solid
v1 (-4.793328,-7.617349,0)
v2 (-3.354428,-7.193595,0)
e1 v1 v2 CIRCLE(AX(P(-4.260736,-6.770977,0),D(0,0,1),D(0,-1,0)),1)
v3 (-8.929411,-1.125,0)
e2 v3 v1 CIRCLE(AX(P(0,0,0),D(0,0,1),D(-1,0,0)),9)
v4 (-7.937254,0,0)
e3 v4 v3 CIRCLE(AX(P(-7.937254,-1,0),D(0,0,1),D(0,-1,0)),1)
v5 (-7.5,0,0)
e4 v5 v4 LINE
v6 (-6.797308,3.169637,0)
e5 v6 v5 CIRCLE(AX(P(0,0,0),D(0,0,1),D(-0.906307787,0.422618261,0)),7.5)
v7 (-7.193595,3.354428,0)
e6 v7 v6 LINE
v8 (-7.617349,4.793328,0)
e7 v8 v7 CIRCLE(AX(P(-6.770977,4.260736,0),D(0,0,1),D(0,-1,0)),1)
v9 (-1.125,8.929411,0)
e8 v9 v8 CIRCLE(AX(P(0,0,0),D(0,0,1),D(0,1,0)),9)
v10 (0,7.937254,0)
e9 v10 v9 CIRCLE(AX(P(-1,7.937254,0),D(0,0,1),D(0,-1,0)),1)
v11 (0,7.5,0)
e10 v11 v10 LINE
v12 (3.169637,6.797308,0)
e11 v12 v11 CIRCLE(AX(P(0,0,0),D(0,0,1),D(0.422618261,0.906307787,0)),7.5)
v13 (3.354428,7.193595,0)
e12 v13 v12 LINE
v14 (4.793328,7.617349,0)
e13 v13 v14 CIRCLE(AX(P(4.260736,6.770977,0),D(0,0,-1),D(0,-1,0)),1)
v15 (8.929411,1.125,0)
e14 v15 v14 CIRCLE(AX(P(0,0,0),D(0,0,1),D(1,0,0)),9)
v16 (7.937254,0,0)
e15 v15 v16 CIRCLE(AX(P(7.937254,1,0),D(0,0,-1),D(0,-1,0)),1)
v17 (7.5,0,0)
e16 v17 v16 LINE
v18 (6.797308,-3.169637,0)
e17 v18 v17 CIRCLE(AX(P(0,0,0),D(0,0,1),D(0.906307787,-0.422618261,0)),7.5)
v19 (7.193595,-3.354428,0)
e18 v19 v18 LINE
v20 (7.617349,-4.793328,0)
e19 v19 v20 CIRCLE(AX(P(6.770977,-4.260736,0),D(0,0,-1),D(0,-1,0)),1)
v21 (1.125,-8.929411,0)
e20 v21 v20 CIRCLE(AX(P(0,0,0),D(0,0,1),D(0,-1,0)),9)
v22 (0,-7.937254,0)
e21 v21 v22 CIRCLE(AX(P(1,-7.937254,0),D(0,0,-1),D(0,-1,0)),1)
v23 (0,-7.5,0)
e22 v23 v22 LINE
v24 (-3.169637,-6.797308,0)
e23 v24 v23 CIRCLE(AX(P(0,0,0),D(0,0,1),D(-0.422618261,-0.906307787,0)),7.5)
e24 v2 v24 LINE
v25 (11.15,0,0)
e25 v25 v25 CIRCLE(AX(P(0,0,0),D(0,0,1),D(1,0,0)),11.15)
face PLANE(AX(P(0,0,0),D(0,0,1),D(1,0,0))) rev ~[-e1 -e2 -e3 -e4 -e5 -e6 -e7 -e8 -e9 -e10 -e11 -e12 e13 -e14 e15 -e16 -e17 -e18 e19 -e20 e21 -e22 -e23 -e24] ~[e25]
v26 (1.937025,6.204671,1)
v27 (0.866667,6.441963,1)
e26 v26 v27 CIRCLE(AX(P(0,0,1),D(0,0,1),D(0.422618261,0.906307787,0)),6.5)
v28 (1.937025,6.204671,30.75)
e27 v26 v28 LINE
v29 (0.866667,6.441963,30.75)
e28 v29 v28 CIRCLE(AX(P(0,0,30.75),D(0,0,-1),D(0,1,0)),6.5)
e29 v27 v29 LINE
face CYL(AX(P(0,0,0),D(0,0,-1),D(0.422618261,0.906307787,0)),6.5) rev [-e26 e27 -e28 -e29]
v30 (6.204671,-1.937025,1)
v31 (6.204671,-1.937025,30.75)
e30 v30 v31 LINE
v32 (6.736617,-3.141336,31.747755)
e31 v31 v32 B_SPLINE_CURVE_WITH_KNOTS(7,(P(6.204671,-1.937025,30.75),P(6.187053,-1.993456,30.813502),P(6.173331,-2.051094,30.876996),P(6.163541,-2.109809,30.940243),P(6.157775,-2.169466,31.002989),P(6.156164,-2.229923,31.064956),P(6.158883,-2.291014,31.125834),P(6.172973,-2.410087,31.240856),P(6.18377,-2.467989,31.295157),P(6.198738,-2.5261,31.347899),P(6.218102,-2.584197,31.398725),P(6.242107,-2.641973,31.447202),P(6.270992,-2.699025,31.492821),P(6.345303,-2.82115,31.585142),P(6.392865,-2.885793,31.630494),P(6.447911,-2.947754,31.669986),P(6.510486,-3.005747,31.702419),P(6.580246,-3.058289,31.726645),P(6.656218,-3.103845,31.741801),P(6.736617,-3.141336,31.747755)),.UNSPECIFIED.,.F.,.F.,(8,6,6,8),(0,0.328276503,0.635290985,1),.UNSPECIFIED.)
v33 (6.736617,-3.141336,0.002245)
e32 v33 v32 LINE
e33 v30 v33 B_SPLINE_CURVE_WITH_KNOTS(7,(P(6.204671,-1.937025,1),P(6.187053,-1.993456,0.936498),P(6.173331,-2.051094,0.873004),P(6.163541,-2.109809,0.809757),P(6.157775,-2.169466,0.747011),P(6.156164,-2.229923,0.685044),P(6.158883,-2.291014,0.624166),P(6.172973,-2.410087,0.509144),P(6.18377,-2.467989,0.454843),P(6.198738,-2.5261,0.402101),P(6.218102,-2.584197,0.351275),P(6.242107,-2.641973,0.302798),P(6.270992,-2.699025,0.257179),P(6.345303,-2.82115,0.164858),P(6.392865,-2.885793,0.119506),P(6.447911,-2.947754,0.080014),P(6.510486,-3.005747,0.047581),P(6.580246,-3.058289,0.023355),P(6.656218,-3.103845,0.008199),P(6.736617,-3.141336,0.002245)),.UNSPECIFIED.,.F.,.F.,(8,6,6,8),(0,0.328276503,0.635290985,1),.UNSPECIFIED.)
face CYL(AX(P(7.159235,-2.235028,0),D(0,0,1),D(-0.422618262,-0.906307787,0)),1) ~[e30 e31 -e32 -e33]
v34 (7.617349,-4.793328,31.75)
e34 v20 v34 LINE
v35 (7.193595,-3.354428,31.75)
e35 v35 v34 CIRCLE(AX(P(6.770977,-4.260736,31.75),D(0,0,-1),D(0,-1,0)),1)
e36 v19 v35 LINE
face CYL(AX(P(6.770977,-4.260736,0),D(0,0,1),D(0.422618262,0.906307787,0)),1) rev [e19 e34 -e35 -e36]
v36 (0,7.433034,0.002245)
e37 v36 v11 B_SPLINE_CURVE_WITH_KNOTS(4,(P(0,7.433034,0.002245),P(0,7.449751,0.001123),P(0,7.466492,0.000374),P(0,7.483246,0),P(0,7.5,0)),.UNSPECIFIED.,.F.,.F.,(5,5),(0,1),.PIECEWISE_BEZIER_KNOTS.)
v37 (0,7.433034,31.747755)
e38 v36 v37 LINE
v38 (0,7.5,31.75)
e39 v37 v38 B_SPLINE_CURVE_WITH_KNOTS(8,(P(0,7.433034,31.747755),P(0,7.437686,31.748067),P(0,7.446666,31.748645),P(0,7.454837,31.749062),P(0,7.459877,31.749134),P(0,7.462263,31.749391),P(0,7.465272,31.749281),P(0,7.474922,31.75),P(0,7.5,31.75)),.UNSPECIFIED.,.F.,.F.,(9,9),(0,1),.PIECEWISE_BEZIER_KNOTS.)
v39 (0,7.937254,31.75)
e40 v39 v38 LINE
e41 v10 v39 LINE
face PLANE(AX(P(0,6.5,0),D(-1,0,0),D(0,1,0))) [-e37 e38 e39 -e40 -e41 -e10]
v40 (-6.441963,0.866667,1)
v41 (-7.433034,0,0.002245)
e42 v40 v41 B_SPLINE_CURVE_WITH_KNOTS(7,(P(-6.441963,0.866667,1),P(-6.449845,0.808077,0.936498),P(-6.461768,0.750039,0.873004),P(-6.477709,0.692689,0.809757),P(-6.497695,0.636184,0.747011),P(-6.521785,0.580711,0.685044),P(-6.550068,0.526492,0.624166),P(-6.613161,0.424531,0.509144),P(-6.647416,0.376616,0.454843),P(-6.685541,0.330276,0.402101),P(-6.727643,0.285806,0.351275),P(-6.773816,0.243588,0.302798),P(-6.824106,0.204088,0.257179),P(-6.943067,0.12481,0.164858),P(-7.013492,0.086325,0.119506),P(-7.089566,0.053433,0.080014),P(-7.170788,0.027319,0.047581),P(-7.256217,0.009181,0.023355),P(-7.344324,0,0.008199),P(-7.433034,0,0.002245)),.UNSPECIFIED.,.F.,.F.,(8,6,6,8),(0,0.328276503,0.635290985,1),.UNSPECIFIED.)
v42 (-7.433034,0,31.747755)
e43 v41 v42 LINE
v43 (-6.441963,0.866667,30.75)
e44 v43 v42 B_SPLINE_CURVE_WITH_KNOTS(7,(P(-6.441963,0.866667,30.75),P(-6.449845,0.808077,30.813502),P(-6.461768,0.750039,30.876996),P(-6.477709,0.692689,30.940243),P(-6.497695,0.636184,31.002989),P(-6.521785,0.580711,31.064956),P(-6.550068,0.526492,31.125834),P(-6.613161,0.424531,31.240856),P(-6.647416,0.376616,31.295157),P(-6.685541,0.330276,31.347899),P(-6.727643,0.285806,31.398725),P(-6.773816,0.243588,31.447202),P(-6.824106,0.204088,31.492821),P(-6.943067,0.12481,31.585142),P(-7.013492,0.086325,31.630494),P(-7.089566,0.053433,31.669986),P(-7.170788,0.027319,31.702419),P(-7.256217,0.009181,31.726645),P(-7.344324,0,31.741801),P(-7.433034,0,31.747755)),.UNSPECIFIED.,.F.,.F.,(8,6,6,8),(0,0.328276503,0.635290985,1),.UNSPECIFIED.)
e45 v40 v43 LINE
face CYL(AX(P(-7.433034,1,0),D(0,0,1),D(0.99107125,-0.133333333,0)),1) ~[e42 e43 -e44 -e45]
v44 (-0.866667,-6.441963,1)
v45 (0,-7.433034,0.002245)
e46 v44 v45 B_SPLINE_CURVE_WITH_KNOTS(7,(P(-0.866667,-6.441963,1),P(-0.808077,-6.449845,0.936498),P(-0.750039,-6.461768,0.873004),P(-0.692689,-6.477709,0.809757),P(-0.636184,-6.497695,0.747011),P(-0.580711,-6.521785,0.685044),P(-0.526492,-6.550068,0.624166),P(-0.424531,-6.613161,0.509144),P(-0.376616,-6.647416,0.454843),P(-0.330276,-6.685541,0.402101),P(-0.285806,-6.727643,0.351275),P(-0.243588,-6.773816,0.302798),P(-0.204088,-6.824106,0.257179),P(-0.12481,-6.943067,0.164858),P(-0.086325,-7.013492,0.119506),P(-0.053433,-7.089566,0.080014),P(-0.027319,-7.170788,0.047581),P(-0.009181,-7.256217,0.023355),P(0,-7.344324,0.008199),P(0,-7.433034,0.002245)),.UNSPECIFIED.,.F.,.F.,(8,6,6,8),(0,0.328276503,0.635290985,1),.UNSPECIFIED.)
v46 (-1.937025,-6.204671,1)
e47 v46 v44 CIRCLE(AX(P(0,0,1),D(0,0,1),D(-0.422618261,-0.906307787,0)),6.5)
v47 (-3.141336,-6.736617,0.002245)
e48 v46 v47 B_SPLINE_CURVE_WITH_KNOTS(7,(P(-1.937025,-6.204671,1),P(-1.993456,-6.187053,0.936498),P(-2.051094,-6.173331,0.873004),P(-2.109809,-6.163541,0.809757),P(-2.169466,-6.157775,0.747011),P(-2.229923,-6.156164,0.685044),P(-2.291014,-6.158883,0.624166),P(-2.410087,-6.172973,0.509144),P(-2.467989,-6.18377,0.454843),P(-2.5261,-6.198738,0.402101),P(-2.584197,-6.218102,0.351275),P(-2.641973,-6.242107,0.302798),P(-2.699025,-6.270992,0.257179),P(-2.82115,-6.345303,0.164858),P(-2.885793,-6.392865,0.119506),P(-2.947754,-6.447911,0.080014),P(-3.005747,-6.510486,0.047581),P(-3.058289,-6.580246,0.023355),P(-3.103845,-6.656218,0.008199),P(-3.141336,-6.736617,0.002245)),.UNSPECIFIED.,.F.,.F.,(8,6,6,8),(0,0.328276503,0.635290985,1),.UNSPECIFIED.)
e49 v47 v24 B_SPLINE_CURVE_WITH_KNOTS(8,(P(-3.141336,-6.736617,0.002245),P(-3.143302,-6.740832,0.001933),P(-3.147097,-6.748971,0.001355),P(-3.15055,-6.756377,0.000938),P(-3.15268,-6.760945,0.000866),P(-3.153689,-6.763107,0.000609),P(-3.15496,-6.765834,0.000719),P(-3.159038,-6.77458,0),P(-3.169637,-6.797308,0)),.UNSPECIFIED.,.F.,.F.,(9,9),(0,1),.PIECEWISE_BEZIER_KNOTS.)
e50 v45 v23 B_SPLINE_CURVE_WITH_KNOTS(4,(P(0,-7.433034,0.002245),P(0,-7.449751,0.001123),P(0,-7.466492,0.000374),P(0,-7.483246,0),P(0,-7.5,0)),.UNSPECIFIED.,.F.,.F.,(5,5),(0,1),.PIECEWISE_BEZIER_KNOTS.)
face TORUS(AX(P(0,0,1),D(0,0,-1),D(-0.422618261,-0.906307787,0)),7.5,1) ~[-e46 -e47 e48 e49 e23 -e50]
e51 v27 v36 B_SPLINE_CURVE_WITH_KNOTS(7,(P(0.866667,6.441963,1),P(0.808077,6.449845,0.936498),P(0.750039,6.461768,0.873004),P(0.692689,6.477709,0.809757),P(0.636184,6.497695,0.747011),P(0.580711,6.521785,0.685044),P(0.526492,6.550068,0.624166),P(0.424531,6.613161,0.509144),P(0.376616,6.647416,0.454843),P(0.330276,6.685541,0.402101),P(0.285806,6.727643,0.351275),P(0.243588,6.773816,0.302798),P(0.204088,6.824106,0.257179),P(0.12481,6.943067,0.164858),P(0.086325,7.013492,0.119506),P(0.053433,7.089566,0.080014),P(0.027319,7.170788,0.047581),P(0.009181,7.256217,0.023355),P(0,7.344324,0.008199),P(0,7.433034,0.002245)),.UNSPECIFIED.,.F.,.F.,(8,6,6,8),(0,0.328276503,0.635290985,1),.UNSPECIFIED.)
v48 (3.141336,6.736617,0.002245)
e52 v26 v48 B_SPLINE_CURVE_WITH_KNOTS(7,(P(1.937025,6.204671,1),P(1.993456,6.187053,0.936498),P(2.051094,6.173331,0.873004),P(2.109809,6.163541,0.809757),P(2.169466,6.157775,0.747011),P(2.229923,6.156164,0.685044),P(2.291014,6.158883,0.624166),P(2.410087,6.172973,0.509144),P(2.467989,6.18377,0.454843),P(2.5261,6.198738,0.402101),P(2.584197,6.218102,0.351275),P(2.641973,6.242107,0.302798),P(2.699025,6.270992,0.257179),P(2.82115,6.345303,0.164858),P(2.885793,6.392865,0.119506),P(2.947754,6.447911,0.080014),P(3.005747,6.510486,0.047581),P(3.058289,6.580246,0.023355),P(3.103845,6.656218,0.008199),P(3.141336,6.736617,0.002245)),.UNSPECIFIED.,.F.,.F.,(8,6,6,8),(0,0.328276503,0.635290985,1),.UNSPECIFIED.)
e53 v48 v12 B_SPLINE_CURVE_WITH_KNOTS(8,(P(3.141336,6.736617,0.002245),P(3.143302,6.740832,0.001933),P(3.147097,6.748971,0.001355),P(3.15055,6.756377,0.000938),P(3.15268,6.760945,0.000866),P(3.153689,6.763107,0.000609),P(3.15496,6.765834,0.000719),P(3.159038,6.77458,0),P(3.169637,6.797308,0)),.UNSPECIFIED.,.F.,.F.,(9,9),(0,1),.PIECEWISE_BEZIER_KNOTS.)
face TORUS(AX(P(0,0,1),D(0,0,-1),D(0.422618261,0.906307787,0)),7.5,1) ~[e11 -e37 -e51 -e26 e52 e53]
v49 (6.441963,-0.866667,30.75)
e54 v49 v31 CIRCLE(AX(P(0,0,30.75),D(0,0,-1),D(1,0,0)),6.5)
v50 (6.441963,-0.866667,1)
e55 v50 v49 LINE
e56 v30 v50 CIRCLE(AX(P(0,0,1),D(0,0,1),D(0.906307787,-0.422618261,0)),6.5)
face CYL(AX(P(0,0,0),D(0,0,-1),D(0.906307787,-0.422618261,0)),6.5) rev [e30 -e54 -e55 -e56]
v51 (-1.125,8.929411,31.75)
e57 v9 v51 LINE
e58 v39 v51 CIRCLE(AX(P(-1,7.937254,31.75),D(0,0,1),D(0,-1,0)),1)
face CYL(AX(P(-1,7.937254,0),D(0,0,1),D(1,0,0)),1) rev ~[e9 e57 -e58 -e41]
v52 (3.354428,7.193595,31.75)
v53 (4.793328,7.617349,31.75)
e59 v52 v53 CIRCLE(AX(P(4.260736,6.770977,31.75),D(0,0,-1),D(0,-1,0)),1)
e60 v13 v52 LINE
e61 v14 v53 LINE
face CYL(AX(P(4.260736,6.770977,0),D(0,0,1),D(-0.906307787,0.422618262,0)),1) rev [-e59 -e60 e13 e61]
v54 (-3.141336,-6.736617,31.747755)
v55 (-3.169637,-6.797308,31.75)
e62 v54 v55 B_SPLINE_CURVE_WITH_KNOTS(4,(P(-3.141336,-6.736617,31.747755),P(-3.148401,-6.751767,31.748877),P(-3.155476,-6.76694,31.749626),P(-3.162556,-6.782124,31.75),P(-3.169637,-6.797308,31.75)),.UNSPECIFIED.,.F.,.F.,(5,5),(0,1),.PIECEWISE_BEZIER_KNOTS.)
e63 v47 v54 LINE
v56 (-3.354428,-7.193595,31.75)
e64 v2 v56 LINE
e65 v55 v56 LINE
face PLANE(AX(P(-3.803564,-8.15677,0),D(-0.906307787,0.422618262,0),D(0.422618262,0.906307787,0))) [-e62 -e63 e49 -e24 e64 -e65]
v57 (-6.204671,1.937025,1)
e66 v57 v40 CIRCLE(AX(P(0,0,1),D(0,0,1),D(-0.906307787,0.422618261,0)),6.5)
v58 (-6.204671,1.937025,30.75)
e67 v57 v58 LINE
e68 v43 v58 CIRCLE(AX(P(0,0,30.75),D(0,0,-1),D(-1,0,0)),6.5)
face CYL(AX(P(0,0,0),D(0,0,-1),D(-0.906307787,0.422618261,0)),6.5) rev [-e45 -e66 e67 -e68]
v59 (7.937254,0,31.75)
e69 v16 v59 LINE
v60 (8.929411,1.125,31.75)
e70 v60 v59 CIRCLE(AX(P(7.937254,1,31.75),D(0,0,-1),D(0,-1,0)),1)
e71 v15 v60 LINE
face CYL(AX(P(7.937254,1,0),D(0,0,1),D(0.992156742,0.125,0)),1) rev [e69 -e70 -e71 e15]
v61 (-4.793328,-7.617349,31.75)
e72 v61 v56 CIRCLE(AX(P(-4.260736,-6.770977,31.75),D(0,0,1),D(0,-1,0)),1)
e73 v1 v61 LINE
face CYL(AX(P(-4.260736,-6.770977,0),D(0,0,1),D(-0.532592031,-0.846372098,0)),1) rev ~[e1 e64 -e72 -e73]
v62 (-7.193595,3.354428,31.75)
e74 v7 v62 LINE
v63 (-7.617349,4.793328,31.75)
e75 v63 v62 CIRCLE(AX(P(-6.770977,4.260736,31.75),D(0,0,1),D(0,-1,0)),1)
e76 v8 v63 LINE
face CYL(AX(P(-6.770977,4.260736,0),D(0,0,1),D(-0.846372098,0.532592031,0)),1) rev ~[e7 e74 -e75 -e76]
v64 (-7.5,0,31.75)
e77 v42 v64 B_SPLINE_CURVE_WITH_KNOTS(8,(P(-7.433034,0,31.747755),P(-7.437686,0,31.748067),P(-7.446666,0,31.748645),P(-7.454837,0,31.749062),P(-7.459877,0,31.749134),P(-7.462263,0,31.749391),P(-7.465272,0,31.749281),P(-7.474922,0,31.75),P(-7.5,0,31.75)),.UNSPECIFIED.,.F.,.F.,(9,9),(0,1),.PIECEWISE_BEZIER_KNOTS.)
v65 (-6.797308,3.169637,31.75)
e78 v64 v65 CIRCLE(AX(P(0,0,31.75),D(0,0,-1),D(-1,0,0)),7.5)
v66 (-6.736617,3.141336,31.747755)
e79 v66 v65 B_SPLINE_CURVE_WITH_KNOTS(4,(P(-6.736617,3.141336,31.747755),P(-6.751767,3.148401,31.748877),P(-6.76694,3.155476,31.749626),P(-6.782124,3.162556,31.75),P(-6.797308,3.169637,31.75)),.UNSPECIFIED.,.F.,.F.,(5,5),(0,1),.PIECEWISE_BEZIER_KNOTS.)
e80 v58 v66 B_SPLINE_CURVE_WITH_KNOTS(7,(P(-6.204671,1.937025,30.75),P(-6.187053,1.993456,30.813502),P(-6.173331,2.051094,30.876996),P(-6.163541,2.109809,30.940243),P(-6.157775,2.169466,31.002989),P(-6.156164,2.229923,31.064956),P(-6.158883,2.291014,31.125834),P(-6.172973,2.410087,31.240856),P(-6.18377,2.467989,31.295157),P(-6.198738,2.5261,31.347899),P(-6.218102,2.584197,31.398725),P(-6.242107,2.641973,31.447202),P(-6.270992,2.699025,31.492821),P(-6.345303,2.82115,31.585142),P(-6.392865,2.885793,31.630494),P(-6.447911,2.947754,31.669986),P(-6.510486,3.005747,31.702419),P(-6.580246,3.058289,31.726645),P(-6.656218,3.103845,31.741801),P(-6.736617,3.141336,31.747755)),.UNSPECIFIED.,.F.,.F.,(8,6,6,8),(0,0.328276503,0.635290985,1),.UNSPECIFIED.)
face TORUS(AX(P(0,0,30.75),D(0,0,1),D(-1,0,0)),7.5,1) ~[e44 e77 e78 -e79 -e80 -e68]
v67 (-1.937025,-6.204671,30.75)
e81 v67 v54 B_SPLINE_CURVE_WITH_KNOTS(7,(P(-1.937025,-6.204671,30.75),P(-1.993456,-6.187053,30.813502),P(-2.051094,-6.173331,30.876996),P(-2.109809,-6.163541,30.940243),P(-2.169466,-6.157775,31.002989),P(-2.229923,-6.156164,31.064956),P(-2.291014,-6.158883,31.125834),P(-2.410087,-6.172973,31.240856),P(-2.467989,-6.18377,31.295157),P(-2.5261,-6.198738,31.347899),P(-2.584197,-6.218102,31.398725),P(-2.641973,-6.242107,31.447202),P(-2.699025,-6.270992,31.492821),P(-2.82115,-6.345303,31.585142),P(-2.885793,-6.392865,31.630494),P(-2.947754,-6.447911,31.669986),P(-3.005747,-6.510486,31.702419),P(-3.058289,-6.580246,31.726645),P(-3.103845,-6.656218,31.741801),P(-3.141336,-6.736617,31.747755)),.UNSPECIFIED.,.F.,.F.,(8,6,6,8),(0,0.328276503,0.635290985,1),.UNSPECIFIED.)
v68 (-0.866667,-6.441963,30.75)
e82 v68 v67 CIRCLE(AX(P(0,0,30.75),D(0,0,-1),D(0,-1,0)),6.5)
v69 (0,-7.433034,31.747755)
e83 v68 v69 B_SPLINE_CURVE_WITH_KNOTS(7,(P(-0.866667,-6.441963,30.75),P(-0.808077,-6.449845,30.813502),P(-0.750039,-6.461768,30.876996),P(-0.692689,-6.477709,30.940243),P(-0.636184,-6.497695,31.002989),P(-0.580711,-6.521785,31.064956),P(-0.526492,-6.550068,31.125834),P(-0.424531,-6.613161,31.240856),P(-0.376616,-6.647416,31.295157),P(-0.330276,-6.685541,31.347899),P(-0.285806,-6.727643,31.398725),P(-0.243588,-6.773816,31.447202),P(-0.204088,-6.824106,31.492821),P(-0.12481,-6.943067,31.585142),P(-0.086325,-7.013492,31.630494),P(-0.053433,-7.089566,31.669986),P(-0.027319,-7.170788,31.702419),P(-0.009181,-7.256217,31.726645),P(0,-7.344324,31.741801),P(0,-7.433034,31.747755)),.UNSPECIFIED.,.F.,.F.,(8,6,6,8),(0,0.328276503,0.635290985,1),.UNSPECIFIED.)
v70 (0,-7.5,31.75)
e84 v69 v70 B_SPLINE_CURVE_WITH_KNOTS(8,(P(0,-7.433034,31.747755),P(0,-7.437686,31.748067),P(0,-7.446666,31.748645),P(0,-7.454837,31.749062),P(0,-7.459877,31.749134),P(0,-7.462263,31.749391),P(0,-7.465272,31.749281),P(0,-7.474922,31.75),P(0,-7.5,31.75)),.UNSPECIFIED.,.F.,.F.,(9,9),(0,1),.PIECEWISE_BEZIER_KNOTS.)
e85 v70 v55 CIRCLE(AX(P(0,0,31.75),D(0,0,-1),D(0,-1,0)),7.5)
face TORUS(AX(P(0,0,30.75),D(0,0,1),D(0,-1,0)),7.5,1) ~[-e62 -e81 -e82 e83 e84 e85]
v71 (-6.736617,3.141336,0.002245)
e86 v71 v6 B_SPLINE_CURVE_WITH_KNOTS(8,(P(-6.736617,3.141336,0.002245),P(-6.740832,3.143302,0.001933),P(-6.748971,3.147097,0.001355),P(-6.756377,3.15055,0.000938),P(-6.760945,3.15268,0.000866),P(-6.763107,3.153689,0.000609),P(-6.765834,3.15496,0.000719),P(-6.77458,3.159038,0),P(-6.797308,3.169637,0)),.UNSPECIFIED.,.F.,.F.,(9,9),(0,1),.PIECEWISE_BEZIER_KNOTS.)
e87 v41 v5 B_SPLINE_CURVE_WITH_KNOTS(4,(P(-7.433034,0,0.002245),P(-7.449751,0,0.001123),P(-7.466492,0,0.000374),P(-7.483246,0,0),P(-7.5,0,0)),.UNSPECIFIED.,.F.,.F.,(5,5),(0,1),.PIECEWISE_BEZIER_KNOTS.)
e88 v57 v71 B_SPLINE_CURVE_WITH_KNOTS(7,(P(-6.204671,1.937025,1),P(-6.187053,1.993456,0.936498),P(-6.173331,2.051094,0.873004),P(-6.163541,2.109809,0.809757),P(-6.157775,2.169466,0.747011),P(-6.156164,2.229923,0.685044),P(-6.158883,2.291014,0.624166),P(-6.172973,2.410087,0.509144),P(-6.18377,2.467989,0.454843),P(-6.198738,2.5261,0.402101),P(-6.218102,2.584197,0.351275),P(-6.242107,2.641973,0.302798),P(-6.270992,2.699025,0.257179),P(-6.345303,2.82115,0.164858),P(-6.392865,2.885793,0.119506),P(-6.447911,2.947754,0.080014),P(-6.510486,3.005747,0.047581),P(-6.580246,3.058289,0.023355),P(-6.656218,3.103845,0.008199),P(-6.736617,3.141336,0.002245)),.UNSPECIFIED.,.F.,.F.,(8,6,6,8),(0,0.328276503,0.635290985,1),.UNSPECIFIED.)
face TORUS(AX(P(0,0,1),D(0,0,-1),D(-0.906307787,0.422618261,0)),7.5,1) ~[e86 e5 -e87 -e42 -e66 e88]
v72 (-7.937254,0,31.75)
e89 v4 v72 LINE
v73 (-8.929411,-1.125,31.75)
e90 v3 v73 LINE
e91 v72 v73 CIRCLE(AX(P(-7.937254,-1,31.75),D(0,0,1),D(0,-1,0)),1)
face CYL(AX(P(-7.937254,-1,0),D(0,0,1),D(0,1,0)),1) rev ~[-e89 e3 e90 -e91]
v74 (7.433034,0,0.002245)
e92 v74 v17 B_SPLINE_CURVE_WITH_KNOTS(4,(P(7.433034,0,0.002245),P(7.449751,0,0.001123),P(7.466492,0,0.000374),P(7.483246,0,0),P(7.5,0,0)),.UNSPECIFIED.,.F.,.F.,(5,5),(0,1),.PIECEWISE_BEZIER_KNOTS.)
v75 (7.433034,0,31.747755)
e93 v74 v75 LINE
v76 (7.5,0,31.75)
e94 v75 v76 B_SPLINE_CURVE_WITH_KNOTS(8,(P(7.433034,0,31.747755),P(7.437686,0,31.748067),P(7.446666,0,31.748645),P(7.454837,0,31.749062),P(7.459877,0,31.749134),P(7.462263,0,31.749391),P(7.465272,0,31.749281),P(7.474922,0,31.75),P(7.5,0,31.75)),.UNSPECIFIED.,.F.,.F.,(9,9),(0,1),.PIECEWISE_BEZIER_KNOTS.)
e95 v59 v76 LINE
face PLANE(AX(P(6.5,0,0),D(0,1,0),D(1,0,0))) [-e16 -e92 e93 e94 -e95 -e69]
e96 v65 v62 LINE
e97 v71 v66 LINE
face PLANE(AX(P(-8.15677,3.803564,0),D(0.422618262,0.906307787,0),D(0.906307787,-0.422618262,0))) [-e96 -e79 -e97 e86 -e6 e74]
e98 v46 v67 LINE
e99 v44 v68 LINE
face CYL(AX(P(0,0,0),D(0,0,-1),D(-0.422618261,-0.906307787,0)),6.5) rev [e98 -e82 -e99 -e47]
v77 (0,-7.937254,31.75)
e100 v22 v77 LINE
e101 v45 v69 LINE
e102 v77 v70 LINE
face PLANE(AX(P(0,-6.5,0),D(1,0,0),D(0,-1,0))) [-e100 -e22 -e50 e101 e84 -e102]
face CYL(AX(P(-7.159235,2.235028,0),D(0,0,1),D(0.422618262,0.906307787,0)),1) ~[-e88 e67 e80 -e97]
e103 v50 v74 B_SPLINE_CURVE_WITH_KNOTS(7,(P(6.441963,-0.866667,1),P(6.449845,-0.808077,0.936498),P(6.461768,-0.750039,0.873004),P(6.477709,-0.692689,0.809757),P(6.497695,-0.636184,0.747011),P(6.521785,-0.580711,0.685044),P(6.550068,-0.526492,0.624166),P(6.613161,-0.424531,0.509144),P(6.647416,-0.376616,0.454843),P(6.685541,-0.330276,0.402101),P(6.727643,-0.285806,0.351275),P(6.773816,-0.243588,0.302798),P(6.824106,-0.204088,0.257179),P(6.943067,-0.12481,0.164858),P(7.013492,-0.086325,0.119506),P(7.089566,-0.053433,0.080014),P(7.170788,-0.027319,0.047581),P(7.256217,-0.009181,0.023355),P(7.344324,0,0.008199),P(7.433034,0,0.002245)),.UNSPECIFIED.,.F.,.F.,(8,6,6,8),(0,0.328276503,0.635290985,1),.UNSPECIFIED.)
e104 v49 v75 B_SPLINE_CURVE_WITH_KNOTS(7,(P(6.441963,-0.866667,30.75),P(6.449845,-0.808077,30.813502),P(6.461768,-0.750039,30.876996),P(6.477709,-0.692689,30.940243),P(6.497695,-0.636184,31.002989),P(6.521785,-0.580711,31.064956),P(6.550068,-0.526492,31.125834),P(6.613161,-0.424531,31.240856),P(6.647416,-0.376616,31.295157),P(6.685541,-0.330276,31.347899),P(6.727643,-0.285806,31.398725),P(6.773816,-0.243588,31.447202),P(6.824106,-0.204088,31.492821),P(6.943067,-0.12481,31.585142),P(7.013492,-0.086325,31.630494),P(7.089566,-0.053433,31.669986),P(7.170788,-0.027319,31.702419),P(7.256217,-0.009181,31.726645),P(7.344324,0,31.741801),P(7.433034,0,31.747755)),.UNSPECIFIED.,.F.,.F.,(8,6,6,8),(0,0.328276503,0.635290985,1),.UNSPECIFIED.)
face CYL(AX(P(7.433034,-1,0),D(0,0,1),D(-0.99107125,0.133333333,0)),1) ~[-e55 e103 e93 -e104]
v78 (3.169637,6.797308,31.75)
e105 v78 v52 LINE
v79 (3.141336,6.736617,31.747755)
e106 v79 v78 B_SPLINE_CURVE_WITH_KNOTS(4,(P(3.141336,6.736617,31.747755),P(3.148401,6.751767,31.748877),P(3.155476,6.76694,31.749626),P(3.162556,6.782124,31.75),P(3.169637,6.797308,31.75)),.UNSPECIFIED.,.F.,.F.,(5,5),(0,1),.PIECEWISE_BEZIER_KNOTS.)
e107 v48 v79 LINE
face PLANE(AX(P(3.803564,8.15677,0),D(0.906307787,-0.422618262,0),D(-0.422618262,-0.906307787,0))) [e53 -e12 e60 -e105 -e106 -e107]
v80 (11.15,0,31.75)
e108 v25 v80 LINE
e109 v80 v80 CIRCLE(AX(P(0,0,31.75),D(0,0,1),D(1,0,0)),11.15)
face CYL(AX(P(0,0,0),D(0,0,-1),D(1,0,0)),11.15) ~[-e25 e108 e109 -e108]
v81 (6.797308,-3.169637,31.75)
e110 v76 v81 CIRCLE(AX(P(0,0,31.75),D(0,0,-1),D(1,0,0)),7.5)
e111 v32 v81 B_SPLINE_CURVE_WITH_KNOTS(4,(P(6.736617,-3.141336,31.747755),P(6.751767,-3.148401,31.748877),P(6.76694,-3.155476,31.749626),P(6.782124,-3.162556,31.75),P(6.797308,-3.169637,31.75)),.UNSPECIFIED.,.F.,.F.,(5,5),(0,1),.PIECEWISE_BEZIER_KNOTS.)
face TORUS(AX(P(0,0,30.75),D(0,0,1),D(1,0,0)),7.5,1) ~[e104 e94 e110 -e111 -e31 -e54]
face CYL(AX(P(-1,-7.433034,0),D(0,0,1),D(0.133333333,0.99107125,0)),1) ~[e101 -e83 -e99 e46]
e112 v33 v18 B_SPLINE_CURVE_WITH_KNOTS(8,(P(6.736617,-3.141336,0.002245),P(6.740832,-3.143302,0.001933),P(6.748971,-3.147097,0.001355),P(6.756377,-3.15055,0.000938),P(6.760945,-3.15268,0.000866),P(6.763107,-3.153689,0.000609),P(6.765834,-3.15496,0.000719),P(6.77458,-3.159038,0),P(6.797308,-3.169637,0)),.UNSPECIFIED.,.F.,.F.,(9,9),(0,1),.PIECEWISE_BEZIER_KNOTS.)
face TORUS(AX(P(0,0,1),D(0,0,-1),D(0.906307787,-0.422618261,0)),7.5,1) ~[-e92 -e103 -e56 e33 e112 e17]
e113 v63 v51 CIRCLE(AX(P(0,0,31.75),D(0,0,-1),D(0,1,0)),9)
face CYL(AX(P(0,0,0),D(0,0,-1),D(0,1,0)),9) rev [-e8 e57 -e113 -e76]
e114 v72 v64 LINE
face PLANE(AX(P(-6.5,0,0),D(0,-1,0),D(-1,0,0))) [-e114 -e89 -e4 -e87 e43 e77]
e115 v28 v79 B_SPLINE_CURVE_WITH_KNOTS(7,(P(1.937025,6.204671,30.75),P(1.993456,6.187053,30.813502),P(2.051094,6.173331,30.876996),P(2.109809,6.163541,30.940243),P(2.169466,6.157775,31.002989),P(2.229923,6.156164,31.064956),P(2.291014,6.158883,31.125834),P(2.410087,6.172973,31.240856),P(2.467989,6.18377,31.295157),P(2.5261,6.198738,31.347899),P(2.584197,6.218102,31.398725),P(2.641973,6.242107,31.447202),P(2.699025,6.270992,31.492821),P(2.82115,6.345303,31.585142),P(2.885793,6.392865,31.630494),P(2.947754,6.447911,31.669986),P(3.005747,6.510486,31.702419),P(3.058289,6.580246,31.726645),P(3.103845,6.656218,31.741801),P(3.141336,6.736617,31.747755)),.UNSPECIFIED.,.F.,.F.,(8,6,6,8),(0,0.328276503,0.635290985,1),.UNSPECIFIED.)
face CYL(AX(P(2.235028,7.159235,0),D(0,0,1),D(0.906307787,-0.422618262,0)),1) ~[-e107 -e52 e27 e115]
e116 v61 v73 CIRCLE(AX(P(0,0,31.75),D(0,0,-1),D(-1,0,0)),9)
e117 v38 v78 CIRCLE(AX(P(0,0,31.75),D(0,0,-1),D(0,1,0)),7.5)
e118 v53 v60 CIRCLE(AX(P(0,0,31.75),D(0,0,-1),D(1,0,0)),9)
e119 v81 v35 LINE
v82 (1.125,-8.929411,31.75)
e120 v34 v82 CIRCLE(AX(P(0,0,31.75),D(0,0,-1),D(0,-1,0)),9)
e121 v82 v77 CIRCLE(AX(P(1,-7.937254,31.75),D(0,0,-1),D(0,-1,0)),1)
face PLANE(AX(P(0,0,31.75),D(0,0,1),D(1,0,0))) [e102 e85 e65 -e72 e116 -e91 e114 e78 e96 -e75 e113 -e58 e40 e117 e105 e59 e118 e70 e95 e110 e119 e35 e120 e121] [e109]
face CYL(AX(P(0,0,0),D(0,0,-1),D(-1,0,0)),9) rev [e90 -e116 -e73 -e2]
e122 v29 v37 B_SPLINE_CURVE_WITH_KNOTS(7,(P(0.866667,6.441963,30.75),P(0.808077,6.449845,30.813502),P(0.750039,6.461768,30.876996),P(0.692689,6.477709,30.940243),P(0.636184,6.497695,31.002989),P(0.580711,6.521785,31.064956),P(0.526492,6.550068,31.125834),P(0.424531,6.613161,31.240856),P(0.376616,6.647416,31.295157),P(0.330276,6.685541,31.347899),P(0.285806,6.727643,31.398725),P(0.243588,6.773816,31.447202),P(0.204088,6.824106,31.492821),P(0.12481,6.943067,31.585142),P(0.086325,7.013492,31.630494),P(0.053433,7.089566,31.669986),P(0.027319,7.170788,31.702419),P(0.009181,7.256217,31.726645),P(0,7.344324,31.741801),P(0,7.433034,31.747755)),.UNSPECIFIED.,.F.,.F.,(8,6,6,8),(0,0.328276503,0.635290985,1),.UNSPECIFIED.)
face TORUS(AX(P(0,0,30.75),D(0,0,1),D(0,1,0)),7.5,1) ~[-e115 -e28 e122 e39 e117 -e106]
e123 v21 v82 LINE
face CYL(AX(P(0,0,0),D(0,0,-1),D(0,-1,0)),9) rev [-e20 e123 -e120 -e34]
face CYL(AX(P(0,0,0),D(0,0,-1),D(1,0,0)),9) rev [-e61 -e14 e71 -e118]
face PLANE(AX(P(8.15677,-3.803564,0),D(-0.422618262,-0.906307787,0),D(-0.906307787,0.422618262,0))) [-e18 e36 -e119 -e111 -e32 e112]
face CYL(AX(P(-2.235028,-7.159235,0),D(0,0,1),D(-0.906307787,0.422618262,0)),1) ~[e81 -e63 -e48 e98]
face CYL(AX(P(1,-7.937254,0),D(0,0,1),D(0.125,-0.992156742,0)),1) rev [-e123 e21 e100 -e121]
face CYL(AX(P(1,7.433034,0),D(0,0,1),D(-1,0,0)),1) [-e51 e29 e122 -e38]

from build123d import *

# Parameters (mm, degrees)
SKETCH1_R           = 11.15
BOSS_EXTRUDE1_DEPTH = 31.75
CUT_EXTRUDE4_DEPTH  = 36.450070522
FILLET2_R           = 1
FILLET4_R           = 1


with BuildPart() as part:
    # Sketch1 → Boss-Extrude1 (new body)
    with BuildSketch(Plane.XY):
        Circle(SKETCH1_R)
    extrude(amount=BOSS_EXTRUDE1_DEPTH)

    # Sketch2 → Cut-Extrude4 (cut, through all)
    with BuildSketch(Plane.XY):
        with BuildLine():
            Line((0, 6.5), (0, 9))
            ThreePointArc((0, 9), (-4.835696475, 7.590523012), (-8.156770083, 3.803564356))
            Line((-8.156770083, 3.803564356), (-5.891000616, 2.747018701))
            ThreePointArc((-5.891000616, 2.747018701), (-6.345924046, 1.406857491), (-6.5, 0))
            Line((-6.5, 0), (-9, 0))
            ThreePointArc((-9, 0), (-7.590523012, -4.835696475), (-3.803564356, -8.156770083))
            Line((-3.803564356, -8.156770083), (-2.747018701, -5.891000616))
            ThreePointArc((-2.747018701, -5.891000616), (-1.406857491, -6.345924046), (0, -6.5))
            Line((0, -6.5), (0, -9))
            ThreePointArc((0, -9), (4.835696475, -7.590523012), (8.156770083, -3.803564356))
            Line((8.156770083, -3.803564356), (5.891000616, -2.747018701))
            ThreePointArc((5.891000616, -2.747018701), (6.345924046, -1.406857491), (6.5, 0))
            Line((6.5, 0), (9, 0))
            ThreePointArc((9, 0), (7.590523012, 4.835696475), (3.803564356, 8.156770083))
            Line((3.803564356, 8.156770083), (2.747018701, 5.891000616))
            ThreePointArc((2.747018701, 5.891000616), (1.406857491, 6.345924046), (0, 6.5))
        make_face()
    extrude(amount=CUT_EXTRUDE4_DEPTH, mode=Mode.SUBTRACT)

    # Fillet2
    fillet2_edges = [part.edges().sort_by_distance(p)[0] for p in [
        (6.345924046, -1.406857491, 0),
        (5.891000616, -2.747018701, 15.875),
        (6.5, 0, 15.875),
        (1.406857491, 6.345924046, 0),
        (2.747018701, 5.891000616, 15.875),
        (0, 6.5, 15.875),
        (-6.345924046, 1.406857491, 0),
        (-5.891000616, 2.747018701, 15.875),
        (-6.5, 0, 15.875),
        (-1.406857491, -6.345924046, 0),
        (-2.747018701, -5.891000616, 15.875),
        (0, -6.5, 15.875),
        (6.345924046, -1.406857491, 31.75),
        (1.406857491, 6.345924046, 31.75),
        (-6.345924046, 1.406857491, 31.75),
        (-1.406857491, -6.345924046, 31.75),
    ]]
    fillet(fillet2_edges, radius=FILLET2_R)

    # Fillet4
    fillet4_edges = [part.edges().sort_by_distance(p)[0] for p in [
        (9, 0, 15.875),
        (3.803564356, 8.156770083, 15.875),
        (0, 9, 15.875),
        (-8.156770083, 3.803564356, 15.875),
        (-9, 0, 15.875),
        (-3.803564356, -8.156770083, 15.875),
        (0, -9, 15.875),
        (8.156770083, -3.803564356, 15.875),
    ]]
    fillet(fillet4_edges, radius=FILLET4_R)


solid = part.part
